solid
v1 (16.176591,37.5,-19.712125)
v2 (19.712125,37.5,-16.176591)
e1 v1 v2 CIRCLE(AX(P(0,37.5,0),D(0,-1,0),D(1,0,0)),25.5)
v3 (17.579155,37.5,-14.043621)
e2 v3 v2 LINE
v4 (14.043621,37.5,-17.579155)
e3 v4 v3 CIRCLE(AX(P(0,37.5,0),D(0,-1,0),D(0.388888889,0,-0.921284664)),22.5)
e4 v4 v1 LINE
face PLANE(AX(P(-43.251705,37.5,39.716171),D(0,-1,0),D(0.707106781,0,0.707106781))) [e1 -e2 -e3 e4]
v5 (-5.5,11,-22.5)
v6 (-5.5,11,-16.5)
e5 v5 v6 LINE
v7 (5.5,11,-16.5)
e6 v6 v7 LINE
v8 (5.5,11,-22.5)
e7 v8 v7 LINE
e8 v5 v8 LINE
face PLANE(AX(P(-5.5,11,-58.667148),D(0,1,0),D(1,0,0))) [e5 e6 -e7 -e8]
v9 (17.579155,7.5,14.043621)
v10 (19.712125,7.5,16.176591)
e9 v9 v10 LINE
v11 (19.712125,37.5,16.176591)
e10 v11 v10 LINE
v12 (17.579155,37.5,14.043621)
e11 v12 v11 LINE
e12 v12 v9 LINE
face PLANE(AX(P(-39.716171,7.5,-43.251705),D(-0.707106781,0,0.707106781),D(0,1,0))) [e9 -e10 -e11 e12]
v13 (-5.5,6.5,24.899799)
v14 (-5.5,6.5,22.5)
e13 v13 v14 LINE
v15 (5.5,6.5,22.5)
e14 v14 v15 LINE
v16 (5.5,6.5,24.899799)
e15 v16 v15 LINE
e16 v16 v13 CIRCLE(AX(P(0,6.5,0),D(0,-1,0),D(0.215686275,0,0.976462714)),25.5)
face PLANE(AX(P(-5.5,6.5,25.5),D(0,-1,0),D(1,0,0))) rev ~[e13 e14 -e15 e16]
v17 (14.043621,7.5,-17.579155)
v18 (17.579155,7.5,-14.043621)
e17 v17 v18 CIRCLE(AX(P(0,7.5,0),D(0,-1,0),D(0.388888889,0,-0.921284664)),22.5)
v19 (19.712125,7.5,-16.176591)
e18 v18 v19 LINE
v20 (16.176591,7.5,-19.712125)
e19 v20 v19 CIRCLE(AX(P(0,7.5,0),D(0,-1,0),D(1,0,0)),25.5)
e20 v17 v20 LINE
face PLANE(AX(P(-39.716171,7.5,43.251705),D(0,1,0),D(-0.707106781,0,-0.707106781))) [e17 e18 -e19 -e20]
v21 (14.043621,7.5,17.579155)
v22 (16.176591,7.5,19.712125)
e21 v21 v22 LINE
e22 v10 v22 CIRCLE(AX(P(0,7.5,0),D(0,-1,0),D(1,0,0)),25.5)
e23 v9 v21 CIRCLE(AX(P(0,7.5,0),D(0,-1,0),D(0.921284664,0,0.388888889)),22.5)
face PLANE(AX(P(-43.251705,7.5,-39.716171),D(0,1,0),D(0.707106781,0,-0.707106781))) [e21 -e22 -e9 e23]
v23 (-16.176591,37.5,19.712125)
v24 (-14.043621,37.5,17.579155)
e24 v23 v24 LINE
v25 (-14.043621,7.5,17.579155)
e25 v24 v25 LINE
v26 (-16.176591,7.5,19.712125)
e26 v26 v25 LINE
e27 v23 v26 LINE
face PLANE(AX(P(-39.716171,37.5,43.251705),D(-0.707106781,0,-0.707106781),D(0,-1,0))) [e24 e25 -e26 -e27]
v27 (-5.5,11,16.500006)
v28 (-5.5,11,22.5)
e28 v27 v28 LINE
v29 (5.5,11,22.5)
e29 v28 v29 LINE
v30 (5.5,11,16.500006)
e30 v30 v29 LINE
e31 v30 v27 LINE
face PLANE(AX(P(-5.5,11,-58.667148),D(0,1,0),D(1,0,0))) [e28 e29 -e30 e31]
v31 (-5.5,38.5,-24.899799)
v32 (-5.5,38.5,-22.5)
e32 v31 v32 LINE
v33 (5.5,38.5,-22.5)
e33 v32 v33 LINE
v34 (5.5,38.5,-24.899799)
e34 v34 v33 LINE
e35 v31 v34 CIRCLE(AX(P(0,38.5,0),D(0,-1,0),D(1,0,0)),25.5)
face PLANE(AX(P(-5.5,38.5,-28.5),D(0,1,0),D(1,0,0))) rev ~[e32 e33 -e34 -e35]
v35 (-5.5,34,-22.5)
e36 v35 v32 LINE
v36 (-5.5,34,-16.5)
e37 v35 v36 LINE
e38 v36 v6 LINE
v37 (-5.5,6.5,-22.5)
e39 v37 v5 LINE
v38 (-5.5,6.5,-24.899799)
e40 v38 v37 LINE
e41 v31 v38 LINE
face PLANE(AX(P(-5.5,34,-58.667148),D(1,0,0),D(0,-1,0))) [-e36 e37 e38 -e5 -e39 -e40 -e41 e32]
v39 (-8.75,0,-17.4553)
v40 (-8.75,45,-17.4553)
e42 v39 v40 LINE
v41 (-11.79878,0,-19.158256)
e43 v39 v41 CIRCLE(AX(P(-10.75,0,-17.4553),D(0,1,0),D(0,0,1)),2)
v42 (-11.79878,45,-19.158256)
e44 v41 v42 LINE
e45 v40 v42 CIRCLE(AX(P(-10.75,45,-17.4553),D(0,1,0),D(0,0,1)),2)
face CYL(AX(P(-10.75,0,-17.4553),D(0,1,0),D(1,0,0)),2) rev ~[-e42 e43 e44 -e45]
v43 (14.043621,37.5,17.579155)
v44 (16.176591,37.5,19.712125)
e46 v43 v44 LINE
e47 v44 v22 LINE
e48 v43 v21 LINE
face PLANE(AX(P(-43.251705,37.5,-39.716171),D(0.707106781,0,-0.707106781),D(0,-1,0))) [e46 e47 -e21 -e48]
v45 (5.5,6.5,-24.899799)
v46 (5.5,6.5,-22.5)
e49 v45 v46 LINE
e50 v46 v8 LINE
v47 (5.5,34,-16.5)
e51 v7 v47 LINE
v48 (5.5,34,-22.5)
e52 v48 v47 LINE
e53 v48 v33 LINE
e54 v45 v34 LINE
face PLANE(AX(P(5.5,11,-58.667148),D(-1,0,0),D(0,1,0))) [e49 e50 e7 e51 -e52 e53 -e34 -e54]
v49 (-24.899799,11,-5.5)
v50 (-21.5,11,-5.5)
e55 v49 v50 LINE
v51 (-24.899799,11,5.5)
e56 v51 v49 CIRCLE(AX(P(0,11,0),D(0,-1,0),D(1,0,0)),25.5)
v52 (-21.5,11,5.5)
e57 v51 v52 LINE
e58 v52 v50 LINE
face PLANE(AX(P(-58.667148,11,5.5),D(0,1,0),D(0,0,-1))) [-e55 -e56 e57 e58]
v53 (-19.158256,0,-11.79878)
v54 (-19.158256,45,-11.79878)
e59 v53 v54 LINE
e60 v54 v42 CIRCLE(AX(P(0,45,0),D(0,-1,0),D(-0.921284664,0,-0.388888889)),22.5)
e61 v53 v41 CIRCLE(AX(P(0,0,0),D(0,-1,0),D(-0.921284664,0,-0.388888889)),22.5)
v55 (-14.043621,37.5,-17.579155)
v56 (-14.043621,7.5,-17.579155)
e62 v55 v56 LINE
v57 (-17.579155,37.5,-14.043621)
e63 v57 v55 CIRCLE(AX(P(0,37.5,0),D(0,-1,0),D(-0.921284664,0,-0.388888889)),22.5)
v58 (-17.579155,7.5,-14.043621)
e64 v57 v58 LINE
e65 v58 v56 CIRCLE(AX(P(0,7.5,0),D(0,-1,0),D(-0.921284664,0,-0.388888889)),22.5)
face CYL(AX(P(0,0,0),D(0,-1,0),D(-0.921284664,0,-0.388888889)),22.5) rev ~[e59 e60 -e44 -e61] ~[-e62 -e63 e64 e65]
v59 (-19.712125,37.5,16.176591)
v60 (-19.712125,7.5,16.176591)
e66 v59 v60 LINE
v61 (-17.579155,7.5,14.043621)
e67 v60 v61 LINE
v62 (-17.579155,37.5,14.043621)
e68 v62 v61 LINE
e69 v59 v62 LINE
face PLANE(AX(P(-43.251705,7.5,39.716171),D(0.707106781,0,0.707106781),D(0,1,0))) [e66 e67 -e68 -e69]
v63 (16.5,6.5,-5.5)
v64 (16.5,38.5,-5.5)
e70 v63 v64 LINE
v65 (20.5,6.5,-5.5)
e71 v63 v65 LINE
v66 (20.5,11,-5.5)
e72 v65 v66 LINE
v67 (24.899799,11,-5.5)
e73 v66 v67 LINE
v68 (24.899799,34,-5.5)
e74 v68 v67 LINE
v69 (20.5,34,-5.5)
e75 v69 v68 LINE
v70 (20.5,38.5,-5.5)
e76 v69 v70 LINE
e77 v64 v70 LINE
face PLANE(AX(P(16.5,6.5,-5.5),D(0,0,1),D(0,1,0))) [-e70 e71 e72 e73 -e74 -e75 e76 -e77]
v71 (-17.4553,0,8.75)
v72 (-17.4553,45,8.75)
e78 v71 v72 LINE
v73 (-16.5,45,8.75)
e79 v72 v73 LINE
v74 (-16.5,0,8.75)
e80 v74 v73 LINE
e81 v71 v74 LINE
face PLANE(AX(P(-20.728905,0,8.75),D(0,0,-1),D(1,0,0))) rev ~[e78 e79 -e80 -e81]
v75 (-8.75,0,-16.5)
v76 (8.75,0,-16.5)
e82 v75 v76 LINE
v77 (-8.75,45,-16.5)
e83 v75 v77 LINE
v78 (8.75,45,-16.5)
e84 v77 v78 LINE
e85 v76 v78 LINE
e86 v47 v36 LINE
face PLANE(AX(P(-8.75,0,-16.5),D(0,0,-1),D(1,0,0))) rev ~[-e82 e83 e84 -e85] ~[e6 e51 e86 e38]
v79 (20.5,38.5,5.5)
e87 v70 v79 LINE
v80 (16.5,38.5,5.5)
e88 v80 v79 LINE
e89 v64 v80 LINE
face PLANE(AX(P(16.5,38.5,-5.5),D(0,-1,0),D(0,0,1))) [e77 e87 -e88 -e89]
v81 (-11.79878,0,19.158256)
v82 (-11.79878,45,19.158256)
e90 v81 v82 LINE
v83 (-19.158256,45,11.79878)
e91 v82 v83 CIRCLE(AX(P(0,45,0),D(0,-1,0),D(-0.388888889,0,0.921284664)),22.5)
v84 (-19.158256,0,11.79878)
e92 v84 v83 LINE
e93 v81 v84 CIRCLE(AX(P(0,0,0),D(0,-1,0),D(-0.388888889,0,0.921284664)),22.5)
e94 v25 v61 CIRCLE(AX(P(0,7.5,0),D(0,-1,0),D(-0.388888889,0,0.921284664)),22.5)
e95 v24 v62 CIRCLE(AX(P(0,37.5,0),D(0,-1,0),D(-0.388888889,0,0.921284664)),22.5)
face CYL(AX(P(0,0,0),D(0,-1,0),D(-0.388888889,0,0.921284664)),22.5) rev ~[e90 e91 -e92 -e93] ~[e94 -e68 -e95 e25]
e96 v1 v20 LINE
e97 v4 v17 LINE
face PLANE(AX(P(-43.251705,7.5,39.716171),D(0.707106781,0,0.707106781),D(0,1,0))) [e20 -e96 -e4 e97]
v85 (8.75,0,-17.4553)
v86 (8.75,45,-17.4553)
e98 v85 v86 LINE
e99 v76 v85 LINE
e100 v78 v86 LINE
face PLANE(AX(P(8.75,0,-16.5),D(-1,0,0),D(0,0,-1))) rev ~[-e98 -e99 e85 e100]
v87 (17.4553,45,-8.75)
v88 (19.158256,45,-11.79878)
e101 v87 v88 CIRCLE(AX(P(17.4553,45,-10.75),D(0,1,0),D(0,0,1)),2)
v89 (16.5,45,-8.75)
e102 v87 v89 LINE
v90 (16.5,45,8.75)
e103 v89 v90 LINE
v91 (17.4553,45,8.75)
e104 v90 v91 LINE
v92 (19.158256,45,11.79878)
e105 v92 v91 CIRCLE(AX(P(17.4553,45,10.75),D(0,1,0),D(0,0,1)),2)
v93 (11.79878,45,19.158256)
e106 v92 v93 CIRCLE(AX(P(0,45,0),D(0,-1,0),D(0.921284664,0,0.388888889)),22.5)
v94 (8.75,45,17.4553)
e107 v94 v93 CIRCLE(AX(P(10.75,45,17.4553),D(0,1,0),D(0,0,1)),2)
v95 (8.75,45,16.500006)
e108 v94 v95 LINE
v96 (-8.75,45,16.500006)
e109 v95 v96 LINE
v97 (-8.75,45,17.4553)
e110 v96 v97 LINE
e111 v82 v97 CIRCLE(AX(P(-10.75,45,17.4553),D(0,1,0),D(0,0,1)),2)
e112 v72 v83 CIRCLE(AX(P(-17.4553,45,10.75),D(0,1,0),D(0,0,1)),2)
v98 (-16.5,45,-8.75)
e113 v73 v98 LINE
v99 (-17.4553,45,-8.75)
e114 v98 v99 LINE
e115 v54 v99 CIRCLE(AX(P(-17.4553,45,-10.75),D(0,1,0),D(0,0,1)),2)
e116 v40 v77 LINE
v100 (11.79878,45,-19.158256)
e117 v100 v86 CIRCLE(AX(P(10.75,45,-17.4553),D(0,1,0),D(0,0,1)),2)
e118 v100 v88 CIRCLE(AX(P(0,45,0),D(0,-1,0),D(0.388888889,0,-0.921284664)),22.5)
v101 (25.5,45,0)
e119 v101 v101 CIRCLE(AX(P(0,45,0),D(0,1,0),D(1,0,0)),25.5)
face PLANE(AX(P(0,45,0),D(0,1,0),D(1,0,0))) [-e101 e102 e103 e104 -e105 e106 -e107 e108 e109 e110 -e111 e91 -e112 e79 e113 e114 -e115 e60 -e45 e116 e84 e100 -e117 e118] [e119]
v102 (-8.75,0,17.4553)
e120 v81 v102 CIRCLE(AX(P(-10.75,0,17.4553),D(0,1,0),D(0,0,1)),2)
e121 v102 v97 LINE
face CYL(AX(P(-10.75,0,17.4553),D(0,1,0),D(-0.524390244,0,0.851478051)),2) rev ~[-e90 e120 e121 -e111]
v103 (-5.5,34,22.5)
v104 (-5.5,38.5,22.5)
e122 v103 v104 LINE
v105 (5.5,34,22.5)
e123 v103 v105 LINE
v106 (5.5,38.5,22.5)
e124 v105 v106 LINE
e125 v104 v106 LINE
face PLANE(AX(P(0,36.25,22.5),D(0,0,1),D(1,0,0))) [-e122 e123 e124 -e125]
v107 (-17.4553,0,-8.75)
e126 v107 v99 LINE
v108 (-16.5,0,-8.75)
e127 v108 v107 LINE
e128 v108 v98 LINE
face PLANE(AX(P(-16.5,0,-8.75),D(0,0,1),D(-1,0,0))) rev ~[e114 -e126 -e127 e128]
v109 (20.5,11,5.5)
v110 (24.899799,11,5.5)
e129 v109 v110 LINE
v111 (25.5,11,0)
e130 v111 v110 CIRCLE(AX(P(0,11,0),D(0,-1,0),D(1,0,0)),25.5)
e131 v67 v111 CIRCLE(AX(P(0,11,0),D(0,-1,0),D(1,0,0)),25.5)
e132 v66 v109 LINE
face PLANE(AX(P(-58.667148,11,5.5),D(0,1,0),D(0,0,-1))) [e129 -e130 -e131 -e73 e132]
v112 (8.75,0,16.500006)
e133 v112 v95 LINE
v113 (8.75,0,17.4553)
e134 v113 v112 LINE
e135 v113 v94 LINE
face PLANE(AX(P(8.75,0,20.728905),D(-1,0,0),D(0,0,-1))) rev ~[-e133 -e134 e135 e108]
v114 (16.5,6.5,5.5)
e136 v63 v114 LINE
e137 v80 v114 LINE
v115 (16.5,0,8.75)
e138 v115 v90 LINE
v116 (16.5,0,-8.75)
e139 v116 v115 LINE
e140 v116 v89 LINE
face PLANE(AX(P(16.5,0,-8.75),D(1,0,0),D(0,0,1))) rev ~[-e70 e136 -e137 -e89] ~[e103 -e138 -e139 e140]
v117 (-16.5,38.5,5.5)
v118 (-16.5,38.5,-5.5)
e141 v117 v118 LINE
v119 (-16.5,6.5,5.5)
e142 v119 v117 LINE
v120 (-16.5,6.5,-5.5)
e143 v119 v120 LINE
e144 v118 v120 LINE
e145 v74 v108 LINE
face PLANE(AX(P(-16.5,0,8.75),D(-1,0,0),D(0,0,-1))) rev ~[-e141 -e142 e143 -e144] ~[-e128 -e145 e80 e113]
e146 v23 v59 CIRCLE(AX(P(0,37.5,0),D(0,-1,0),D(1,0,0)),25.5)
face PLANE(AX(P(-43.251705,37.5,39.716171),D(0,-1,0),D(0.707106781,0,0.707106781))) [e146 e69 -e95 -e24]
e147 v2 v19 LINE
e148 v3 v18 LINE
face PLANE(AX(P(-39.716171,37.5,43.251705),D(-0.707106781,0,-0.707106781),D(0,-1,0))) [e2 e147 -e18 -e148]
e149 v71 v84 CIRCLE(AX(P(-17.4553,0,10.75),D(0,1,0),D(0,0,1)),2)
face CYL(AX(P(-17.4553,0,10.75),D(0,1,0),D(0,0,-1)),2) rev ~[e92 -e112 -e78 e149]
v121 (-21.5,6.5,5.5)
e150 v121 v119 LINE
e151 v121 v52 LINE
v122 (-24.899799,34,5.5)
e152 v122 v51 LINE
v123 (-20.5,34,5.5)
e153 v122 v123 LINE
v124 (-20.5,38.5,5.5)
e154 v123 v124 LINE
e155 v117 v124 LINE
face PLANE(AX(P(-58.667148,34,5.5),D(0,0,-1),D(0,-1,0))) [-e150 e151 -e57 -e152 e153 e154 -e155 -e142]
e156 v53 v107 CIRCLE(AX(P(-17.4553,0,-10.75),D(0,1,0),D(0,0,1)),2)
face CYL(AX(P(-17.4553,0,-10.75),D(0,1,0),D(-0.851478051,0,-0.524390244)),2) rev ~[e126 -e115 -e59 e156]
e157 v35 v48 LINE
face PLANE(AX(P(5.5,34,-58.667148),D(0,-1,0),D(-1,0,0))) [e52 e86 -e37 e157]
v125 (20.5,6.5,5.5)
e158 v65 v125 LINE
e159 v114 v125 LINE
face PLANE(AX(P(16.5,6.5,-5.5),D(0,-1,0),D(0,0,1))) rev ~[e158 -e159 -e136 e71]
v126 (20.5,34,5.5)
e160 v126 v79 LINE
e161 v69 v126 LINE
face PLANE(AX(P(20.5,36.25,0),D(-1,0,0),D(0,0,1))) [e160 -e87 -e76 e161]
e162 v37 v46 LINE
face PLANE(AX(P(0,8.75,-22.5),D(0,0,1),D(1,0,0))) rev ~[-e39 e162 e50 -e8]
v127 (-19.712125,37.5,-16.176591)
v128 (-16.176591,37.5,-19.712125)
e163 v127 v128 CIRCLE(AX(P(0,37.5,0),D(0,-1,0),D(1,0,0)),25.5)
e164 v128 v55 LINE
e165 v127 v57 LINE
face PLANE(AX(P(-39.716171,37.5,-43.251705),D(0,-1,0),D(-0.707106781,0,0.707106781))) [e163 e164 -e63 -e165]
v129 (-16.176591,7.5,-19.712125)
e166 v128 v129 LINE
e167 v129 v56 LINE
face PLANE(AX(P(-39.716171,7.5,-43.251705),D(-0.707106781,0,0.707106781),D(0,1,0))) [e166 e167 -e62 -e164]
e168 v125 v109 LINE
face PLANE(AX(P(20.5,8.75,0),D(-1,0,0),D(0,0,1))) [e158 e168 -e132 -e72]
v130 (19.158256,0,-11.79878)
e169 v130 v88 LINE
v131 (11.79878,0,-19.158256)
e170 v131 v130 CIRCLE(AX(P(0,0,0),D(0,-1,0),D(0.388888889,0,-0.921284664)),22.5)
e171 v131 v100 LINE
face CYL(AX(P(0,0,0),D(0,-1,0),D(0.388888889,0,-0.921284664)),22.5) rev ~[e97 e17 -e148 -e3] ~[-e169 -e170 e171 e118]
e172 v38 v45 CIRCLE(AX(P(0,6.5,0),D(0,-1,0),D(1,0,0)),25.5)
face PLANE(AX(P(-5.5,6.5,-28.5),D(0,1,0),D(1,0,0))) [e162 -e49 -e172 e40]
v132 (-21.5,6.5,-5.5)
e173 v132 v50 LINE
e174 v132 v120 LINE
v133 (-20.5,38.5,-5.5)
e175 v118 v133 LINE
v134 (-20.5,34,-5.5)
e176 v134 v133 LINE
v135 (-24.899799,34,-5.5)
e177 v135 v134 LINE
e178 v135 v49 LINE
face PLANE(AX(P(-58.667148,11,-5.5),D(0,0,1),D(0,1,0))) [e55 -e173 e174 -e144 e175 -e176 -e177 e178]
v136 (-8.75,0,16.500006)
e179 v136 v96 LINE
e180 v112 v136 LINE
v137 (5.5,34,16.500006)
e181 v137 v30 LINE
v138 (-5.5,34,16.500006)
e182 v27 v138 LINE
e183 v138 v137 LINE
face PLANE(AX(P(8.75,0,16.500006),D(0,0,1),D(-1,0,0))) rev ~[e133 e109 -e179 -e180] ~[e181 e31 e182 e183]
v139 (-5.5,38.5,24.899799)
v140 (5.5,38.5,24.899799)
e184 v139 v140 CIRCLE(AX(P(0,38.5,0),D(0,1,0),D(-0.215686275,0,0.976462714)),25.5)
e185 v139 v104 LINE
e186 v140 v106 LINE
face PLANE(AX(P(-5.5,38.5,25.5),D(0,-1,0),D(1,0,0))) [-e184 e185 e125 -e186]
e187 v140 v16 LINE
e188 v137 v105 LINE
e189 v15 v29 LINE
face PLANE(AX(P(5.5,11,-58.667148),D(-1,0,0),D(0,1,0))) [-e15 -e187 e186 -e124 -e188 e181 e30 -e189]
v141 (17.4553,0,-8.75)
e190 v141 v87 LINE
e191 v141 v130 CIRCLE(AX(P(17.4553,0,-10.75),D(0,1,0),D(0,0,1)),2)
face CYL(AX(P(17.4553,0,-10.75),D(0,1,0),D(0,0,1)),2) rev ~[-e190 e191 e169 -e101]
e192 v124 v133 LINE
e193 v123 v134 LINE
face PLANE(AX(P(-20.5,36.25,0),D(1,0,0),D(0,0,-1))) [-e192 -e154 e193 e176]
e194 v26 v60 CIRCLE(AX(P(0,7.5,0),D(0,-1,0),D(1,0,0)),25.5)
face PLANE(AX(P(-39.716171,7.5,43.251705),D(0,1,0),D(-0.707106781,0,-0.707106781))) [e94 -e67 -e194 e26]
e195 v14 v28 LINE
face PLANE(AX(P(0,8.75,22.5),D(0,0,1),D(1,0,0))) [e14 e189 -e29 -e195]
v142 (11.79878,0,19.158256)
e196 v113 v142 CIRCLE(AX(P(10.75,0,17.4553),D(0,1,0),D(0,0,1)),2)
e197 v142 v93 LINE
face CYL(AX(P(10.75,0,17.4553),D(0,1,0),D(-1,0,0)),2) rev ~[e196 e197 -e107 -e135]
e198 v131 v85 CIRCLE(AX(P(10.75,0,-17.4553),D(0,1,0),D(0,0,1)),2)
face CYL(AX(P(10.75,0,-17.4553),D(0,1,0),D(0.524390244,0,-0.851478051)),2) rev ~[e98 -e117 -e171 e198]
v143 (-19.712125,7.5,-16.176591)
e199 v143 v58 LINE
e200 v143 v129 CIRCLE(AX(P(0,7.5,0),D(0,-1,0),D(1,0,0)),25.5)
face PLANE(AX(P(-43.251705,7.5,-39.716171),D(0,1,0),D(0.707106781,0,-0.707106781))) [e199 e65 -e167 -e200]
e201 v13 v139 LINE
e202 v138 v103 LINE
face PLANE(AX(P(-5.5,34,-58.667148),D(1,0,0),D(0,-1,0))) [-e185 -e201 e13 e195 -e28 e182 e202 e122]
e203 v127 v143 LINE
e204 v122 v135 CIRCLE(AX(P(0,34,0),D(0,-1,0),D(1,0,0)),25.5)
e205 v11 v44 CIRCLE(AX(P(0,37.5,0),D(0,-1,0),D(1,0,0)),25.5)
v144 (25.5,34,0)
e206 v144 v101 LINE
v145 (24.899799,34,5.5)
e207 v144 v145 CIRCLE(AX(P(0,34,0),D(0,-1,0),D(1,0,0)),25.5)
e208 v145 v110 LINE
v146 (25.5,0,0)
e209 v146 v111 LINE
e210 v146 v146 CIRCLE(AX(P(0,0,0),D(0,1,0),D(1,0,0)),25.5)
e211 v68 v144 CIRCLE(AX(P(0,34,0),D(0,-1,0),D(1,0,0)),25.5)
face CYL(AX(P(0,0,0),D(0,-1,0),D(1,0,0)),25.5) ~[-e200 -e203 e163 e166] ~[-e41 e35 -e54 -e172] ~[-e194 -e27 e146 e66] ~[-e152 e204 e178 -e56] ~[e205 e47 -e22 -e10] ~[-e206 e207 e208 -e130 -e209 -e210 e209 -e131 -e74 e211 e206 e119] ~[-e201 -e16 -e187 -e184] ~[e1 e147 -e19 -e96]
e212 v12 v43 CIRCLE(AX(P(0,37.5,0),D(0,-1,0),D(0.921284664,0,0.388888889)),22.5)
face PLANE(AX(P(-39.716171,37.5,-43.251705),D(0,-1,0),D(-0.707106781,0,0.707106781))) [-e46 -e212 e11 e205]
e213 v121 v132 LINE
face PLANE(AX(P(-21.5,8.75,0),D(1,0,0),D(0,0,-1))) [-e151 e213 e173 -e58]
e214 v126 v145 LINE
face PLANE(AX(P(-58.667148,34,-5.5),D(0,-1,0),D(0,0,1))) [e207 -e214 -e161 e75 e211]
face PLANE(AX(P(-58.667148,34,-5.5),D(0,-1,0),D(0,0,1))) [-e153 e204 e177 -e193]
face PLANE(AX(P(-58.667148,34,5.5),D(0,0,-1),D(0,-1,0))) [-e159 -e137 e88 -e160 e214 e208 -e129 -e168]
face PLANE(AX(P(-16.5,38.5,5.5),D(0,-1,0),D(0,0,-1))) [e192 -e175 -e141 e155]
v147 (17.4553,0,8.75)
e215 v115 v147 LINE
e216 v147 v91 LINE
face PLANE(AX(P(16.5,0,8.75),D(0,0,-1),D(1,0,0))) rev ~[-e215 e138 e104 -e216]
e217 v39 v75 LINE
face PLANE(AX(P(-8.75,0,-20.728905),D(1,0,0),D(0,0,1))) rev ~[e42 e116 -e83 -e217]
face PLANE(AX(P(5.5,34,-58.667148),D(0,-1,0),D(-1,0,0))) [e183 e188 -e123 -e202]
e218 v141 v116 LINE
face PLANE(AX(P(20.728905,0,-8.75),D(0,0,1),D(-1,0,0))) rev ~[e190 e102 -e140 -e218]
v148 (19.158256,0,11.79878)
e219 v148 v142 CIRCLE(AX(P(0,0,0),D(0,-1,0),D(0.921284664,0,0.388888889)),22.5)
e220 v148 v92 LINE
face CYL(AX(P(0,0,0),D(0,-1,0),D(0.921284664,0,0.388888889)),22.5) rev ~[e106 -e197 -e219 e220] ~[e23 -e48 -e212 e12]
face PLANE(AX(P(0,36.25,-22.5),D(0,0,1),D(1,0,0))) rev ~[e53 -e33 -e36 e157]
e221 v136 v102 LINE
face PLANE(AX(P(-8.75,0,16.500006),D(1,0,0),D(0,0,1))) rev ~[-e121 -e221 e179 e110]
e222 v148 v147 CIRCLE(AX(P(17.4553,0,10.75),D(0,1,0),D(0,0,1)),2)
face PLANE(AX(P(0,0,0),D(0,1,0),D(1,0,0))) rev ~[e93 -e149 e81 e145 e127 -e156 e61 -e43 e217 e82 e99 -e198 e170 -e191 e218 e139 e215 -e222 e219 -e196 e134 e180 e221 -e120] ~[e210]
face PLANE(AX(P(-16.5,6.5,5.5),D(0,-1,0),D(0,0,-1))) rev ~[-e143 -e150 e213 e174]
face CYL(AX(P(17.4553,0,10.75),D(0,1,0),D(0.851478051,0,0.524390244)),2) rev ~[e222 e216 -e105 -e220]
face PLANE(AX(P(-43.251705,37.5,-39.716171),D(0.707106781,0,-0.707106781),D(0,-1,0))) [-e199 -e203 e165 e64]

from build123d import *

# Parameters (mm, degrees)
SKETCH1_R                = 25.5
BOSS_EXTRUDE1_DEPTH      = 45
FILLET1_R                = 2
CUT_EXTRUDE1_DEPTH       = 58.66714836
CUT_EXTRUDE1_DEPTH_BACK  = 58.66714836
CUT_EXTRUDE2_DEPTH       = 58.66714836
CUT_EXTRUDE2_DEPTH_BACK  = 58.66714836
CUT_EXTRUDE3_DEPTH       = 58.66714836
CUT_EXTRUDE3_DEPTH_BACK  = 58.66714836
CUT_EXTRUDE4_DEPTH       = 58.66714836
CUT_EXTRUDE4_DEPTH_BACK  = 58.66714836
SKETCH10_W               = 11
SKETCH10_H               = 4.5
CUT_EXTRUDE11_DEPTH      = 5
SKETCH6_W                = 11
SKETCH6_H                = 4.5
CUT_EXTRUDE12_DEPTH      = 4
SKETCH7_W                = 11
SKETCH7_H                = 4.5
CUT_EXTRUDE13_DEPTH      = 4
SKETCH11_W               = 11
SKETCH11_H               = 4.5
CUT_EXTRUDE14_DEPTH      = 3
CUT_EXTRUDE17_DEPTH      = 3
CUT_EXTRUDE17_DEPTH_BACK = 3
SKETCH13_W               = 11
SKETCH13_H               = 4.5


with BuildPart() as part:
    # Sketch1 → Boss-Extrude1 (new body)
    with BuildSketch(Plane(origin=(0, 0, 0), x_dir=(1, 0, 0), z_dir=(0, 1, 0))):
        Circle(SKETCH1_R)
        with BuildLine():
            Line((-8.75, -16.500006), (-8.75, -20.72890494))
            ThreePointArc((-8.75, -20.72890494), (-15.909902577, -15.909902577), (-20.72890494, -8.75))
            Line((-20.72890494, -8.75), (-16.5, -8.75))
            Line((-16.5, -8.75), (-16.5, 8.75))
            Line((-16.5, 8.75), (-20.72890494, 8.75))
            ThreePointArc((-20.72890494, 8.75), (-15.909902577, 15.909902577), (-8.75, 20.72890494))
            Line((-8.75, 20.72890494), (-8.75, 16.5))
            Line((-8.75, 16.5), (8.75, 16.5))
            Line((8.75, 16.5), (8.75, 20.72890494))
            ThreePointArc((8.75, 20.72890494), (15.909902577, 15.909902577), (20.72890494, 8.75))
            Line((20.72890494, 8.75), (16.5, 8.75))
            Line((16.5, 8.75), (16.5, -8.75))
            Line((16.5, -8.75), (20.72890494, -8.75))
            ThreePointArc((20.72890494, -8.75), (15.909902577, -15.909902577), (8.75, -20.72890494))
            Line((8.75, -20.72890494), (8.75, -16.500006))
            Line((8.75, -16.500006), (-8.75, -16.500006))
        make_face(mode=Mode.SUBTRACT)
    extrude(amount=BOSS_EXTRUDE1_DEPTH)

    # Fillet1
    fillet1_edges = [part.edges().sort_by_distance(p)[0] for p in [
        (20.72890494, 22.5, -8.75),
        (20.72890494, 22.5, 8.75),
        (8.75, 22.5, 20.72890494),
        (-8.75, 22.5, -20.72890494),
        (8.75, 22.5, -20.72890494),
        (-8.75, 22.5, 20.72890494),
        (-20.72890494, 22.5, 8.75),
        (-20.72890494, 22.5, -8.75),
    ]]
    fillet(fillet1_edges, radius=FILLET1_R)

    # Sketch2 → Cut-Extrude1 (cut, two sides: drawn at the far end of the back side and taken through both)
    with BuildSketch(Plane(origin=(0, 0, 0), x_dir=(-0.7071067811865477, 0, -0.7071067811865475), z_dir=(0.7071067811865475, 0, -0.7071067811865477)).offset(-CUT_EXTRUDE1_DEPTH_BACK)):
        Polygon((0, 7.5), (2.5, 7.5), (2.5, 37.5), (-2.5, 37.5), (-2.5, 7.5), align=None)
    extrude(amount=CUT_EXTRUDE1_DEPTH + CUT_EXTRUDE1_DEPTH_BACK, mode=Mode.SUBTRACT)

    # Sketch3 → Cut-Extrude2 (cut, two sides: drawn at the far end of the back side and taken through both)
    with BuildSketch(Plane(origin=(0, 0, 0), x_dir=(0.7071067811865476, 0, -0.7071067811865476), z_dir=(0.7071067811865476, 0, 0.7071067811865476)).offset(-CUT_EXTRUDE2_DEPTH_BACK)):
        Polygon((2.5, 7.5), (2.5, 37.5), (-2.5, 37.5), (-2.5, 7.5), (0, 7.5), align=None)
    extrude(amount=CUT_EXTRUDE2_DEPTH + CUT_EXTRUDE2_DEPTH_BACK, mode=Mode.SUBTRACT)

    # Sketch4 → Cut-Extrude3 (cut, two sides: drawn at the far end of the back side and taken through both)
    with BuildSketch(Plane.XY.offset(-CUT_EXTRUDE3_DEPTH_BACK)):
        Polygon((5.5, 34), (-5.5, 34), (-5.5, 11), (0, 11), (5.5, 11), align=None)
    extrude(amount=CUT_EXTRUDE3_DEPTH + CUT_EXTRUDE3_DEPTH_BACK, mode=Mode.SUBTRACT)

    # Sketch5 → Cut-Extrude4 (cut, two sides: drawn at the far end of the back side and taken through both)
    with BuildSketch(Plane(origin=(0, 0, 0), x_dir=(0, 0, -1), z_dir=(1, 0, 0)).offset(-CUT_EXTRUDE4_DEPTH_BACK)):
        Polygon((0, 11), (5.5, 11), (5.5, 34), (-5.5, 34), (-5.5, 11), align=None)
    extrude(amount=CUT_EXTRUDE4_DEPTH + CUT_EXTRUDE4_DEPTH_BACK, mode=Mode.SUBTRACT)

    # Sketch10 → Cut-Extrude11 (cut)
    with BuildSketch(Plane(origin=(-16.5, 0, 0), x_dir=(0, 0, -1), z_dir=(1, 0, 0))):
        with Locations((0, 8.75)):
            Rectangle(SKETCH10_W, SKETCH10_H)
    extrude(amount=-CUT_EXTRUDE11_DEPTH, mode=Mode.SUBTRACT)

    # Sketch6 → Cut-Extrude12 (cut)
    with BuildSketch(Plane.ZY.offset(-16.5)):
        with Locations((0, 36.25)):
            Rectangle(SKETCH6_W, SKETCH6_H)
        with Locations((0, 8.75)):
            Rectangle(SKETCH6_W, SKETCH6_H)
    extrude(amount=-CUT_EXTRUDE12_DEPTH, mode=Mode.SUBTRACT)

    # Sketch7 → Cut-Extrude13 (cut)
    with BuildSketch(Plane(origin=(-16.5, 0, 0), x_dir=(0, 0, -1), z_dir=(1, 0, 0))):
        with Locations((0, 36.25)):
            Rectangle(SKETCH7_W, SKETCH7_H)
        with Locations((0, 8.75)):
            Rectangle(SKETCH7_W, SKETCH7_H)
    extrude(amount=-CUT_EXTRUDE13_DEPTH, mode=Mode.SUBTRACT)

    # Sketch11 → Cut-Extrude14 (cut)
    with BuildSketch(Plane.XY.offset(25.500000054)):
        with Locations((0, 8.75)):
            Rectangle(SKETCH11_W, SKETCH11_H)
        with Locations((0, 36.25)):
            Rectangle(SKETCH11_W, SKETCH11_H)
    extrude(amount=-CUT_EXTRUDE14_DEPTH, mode=Mode.SUBTRACT)

    # Sketch13 → Cut-Extrude17 (cut, two sides: drawn at the far end of the back side and taken through both)
    with BuildSketch(Plane.XY.offset(-25.500000054).offset(-CUT_EXTRUDE17_DEPTH_BACK)):
        with Locations((0, 36.25)):
            Rectangle(SKETCH13_W, SKETCH13_H)
        with Locations((0, 8.75)):
            Rectangle(SKETCH13_W, SKETCH13_H)
    extrude(amount=CUT_EXTRUDE17_DEPTH + CUT_EXTRUDE17_DEPTH_BACK, mode=Mode.SUBTRACT)


solid = part.part
